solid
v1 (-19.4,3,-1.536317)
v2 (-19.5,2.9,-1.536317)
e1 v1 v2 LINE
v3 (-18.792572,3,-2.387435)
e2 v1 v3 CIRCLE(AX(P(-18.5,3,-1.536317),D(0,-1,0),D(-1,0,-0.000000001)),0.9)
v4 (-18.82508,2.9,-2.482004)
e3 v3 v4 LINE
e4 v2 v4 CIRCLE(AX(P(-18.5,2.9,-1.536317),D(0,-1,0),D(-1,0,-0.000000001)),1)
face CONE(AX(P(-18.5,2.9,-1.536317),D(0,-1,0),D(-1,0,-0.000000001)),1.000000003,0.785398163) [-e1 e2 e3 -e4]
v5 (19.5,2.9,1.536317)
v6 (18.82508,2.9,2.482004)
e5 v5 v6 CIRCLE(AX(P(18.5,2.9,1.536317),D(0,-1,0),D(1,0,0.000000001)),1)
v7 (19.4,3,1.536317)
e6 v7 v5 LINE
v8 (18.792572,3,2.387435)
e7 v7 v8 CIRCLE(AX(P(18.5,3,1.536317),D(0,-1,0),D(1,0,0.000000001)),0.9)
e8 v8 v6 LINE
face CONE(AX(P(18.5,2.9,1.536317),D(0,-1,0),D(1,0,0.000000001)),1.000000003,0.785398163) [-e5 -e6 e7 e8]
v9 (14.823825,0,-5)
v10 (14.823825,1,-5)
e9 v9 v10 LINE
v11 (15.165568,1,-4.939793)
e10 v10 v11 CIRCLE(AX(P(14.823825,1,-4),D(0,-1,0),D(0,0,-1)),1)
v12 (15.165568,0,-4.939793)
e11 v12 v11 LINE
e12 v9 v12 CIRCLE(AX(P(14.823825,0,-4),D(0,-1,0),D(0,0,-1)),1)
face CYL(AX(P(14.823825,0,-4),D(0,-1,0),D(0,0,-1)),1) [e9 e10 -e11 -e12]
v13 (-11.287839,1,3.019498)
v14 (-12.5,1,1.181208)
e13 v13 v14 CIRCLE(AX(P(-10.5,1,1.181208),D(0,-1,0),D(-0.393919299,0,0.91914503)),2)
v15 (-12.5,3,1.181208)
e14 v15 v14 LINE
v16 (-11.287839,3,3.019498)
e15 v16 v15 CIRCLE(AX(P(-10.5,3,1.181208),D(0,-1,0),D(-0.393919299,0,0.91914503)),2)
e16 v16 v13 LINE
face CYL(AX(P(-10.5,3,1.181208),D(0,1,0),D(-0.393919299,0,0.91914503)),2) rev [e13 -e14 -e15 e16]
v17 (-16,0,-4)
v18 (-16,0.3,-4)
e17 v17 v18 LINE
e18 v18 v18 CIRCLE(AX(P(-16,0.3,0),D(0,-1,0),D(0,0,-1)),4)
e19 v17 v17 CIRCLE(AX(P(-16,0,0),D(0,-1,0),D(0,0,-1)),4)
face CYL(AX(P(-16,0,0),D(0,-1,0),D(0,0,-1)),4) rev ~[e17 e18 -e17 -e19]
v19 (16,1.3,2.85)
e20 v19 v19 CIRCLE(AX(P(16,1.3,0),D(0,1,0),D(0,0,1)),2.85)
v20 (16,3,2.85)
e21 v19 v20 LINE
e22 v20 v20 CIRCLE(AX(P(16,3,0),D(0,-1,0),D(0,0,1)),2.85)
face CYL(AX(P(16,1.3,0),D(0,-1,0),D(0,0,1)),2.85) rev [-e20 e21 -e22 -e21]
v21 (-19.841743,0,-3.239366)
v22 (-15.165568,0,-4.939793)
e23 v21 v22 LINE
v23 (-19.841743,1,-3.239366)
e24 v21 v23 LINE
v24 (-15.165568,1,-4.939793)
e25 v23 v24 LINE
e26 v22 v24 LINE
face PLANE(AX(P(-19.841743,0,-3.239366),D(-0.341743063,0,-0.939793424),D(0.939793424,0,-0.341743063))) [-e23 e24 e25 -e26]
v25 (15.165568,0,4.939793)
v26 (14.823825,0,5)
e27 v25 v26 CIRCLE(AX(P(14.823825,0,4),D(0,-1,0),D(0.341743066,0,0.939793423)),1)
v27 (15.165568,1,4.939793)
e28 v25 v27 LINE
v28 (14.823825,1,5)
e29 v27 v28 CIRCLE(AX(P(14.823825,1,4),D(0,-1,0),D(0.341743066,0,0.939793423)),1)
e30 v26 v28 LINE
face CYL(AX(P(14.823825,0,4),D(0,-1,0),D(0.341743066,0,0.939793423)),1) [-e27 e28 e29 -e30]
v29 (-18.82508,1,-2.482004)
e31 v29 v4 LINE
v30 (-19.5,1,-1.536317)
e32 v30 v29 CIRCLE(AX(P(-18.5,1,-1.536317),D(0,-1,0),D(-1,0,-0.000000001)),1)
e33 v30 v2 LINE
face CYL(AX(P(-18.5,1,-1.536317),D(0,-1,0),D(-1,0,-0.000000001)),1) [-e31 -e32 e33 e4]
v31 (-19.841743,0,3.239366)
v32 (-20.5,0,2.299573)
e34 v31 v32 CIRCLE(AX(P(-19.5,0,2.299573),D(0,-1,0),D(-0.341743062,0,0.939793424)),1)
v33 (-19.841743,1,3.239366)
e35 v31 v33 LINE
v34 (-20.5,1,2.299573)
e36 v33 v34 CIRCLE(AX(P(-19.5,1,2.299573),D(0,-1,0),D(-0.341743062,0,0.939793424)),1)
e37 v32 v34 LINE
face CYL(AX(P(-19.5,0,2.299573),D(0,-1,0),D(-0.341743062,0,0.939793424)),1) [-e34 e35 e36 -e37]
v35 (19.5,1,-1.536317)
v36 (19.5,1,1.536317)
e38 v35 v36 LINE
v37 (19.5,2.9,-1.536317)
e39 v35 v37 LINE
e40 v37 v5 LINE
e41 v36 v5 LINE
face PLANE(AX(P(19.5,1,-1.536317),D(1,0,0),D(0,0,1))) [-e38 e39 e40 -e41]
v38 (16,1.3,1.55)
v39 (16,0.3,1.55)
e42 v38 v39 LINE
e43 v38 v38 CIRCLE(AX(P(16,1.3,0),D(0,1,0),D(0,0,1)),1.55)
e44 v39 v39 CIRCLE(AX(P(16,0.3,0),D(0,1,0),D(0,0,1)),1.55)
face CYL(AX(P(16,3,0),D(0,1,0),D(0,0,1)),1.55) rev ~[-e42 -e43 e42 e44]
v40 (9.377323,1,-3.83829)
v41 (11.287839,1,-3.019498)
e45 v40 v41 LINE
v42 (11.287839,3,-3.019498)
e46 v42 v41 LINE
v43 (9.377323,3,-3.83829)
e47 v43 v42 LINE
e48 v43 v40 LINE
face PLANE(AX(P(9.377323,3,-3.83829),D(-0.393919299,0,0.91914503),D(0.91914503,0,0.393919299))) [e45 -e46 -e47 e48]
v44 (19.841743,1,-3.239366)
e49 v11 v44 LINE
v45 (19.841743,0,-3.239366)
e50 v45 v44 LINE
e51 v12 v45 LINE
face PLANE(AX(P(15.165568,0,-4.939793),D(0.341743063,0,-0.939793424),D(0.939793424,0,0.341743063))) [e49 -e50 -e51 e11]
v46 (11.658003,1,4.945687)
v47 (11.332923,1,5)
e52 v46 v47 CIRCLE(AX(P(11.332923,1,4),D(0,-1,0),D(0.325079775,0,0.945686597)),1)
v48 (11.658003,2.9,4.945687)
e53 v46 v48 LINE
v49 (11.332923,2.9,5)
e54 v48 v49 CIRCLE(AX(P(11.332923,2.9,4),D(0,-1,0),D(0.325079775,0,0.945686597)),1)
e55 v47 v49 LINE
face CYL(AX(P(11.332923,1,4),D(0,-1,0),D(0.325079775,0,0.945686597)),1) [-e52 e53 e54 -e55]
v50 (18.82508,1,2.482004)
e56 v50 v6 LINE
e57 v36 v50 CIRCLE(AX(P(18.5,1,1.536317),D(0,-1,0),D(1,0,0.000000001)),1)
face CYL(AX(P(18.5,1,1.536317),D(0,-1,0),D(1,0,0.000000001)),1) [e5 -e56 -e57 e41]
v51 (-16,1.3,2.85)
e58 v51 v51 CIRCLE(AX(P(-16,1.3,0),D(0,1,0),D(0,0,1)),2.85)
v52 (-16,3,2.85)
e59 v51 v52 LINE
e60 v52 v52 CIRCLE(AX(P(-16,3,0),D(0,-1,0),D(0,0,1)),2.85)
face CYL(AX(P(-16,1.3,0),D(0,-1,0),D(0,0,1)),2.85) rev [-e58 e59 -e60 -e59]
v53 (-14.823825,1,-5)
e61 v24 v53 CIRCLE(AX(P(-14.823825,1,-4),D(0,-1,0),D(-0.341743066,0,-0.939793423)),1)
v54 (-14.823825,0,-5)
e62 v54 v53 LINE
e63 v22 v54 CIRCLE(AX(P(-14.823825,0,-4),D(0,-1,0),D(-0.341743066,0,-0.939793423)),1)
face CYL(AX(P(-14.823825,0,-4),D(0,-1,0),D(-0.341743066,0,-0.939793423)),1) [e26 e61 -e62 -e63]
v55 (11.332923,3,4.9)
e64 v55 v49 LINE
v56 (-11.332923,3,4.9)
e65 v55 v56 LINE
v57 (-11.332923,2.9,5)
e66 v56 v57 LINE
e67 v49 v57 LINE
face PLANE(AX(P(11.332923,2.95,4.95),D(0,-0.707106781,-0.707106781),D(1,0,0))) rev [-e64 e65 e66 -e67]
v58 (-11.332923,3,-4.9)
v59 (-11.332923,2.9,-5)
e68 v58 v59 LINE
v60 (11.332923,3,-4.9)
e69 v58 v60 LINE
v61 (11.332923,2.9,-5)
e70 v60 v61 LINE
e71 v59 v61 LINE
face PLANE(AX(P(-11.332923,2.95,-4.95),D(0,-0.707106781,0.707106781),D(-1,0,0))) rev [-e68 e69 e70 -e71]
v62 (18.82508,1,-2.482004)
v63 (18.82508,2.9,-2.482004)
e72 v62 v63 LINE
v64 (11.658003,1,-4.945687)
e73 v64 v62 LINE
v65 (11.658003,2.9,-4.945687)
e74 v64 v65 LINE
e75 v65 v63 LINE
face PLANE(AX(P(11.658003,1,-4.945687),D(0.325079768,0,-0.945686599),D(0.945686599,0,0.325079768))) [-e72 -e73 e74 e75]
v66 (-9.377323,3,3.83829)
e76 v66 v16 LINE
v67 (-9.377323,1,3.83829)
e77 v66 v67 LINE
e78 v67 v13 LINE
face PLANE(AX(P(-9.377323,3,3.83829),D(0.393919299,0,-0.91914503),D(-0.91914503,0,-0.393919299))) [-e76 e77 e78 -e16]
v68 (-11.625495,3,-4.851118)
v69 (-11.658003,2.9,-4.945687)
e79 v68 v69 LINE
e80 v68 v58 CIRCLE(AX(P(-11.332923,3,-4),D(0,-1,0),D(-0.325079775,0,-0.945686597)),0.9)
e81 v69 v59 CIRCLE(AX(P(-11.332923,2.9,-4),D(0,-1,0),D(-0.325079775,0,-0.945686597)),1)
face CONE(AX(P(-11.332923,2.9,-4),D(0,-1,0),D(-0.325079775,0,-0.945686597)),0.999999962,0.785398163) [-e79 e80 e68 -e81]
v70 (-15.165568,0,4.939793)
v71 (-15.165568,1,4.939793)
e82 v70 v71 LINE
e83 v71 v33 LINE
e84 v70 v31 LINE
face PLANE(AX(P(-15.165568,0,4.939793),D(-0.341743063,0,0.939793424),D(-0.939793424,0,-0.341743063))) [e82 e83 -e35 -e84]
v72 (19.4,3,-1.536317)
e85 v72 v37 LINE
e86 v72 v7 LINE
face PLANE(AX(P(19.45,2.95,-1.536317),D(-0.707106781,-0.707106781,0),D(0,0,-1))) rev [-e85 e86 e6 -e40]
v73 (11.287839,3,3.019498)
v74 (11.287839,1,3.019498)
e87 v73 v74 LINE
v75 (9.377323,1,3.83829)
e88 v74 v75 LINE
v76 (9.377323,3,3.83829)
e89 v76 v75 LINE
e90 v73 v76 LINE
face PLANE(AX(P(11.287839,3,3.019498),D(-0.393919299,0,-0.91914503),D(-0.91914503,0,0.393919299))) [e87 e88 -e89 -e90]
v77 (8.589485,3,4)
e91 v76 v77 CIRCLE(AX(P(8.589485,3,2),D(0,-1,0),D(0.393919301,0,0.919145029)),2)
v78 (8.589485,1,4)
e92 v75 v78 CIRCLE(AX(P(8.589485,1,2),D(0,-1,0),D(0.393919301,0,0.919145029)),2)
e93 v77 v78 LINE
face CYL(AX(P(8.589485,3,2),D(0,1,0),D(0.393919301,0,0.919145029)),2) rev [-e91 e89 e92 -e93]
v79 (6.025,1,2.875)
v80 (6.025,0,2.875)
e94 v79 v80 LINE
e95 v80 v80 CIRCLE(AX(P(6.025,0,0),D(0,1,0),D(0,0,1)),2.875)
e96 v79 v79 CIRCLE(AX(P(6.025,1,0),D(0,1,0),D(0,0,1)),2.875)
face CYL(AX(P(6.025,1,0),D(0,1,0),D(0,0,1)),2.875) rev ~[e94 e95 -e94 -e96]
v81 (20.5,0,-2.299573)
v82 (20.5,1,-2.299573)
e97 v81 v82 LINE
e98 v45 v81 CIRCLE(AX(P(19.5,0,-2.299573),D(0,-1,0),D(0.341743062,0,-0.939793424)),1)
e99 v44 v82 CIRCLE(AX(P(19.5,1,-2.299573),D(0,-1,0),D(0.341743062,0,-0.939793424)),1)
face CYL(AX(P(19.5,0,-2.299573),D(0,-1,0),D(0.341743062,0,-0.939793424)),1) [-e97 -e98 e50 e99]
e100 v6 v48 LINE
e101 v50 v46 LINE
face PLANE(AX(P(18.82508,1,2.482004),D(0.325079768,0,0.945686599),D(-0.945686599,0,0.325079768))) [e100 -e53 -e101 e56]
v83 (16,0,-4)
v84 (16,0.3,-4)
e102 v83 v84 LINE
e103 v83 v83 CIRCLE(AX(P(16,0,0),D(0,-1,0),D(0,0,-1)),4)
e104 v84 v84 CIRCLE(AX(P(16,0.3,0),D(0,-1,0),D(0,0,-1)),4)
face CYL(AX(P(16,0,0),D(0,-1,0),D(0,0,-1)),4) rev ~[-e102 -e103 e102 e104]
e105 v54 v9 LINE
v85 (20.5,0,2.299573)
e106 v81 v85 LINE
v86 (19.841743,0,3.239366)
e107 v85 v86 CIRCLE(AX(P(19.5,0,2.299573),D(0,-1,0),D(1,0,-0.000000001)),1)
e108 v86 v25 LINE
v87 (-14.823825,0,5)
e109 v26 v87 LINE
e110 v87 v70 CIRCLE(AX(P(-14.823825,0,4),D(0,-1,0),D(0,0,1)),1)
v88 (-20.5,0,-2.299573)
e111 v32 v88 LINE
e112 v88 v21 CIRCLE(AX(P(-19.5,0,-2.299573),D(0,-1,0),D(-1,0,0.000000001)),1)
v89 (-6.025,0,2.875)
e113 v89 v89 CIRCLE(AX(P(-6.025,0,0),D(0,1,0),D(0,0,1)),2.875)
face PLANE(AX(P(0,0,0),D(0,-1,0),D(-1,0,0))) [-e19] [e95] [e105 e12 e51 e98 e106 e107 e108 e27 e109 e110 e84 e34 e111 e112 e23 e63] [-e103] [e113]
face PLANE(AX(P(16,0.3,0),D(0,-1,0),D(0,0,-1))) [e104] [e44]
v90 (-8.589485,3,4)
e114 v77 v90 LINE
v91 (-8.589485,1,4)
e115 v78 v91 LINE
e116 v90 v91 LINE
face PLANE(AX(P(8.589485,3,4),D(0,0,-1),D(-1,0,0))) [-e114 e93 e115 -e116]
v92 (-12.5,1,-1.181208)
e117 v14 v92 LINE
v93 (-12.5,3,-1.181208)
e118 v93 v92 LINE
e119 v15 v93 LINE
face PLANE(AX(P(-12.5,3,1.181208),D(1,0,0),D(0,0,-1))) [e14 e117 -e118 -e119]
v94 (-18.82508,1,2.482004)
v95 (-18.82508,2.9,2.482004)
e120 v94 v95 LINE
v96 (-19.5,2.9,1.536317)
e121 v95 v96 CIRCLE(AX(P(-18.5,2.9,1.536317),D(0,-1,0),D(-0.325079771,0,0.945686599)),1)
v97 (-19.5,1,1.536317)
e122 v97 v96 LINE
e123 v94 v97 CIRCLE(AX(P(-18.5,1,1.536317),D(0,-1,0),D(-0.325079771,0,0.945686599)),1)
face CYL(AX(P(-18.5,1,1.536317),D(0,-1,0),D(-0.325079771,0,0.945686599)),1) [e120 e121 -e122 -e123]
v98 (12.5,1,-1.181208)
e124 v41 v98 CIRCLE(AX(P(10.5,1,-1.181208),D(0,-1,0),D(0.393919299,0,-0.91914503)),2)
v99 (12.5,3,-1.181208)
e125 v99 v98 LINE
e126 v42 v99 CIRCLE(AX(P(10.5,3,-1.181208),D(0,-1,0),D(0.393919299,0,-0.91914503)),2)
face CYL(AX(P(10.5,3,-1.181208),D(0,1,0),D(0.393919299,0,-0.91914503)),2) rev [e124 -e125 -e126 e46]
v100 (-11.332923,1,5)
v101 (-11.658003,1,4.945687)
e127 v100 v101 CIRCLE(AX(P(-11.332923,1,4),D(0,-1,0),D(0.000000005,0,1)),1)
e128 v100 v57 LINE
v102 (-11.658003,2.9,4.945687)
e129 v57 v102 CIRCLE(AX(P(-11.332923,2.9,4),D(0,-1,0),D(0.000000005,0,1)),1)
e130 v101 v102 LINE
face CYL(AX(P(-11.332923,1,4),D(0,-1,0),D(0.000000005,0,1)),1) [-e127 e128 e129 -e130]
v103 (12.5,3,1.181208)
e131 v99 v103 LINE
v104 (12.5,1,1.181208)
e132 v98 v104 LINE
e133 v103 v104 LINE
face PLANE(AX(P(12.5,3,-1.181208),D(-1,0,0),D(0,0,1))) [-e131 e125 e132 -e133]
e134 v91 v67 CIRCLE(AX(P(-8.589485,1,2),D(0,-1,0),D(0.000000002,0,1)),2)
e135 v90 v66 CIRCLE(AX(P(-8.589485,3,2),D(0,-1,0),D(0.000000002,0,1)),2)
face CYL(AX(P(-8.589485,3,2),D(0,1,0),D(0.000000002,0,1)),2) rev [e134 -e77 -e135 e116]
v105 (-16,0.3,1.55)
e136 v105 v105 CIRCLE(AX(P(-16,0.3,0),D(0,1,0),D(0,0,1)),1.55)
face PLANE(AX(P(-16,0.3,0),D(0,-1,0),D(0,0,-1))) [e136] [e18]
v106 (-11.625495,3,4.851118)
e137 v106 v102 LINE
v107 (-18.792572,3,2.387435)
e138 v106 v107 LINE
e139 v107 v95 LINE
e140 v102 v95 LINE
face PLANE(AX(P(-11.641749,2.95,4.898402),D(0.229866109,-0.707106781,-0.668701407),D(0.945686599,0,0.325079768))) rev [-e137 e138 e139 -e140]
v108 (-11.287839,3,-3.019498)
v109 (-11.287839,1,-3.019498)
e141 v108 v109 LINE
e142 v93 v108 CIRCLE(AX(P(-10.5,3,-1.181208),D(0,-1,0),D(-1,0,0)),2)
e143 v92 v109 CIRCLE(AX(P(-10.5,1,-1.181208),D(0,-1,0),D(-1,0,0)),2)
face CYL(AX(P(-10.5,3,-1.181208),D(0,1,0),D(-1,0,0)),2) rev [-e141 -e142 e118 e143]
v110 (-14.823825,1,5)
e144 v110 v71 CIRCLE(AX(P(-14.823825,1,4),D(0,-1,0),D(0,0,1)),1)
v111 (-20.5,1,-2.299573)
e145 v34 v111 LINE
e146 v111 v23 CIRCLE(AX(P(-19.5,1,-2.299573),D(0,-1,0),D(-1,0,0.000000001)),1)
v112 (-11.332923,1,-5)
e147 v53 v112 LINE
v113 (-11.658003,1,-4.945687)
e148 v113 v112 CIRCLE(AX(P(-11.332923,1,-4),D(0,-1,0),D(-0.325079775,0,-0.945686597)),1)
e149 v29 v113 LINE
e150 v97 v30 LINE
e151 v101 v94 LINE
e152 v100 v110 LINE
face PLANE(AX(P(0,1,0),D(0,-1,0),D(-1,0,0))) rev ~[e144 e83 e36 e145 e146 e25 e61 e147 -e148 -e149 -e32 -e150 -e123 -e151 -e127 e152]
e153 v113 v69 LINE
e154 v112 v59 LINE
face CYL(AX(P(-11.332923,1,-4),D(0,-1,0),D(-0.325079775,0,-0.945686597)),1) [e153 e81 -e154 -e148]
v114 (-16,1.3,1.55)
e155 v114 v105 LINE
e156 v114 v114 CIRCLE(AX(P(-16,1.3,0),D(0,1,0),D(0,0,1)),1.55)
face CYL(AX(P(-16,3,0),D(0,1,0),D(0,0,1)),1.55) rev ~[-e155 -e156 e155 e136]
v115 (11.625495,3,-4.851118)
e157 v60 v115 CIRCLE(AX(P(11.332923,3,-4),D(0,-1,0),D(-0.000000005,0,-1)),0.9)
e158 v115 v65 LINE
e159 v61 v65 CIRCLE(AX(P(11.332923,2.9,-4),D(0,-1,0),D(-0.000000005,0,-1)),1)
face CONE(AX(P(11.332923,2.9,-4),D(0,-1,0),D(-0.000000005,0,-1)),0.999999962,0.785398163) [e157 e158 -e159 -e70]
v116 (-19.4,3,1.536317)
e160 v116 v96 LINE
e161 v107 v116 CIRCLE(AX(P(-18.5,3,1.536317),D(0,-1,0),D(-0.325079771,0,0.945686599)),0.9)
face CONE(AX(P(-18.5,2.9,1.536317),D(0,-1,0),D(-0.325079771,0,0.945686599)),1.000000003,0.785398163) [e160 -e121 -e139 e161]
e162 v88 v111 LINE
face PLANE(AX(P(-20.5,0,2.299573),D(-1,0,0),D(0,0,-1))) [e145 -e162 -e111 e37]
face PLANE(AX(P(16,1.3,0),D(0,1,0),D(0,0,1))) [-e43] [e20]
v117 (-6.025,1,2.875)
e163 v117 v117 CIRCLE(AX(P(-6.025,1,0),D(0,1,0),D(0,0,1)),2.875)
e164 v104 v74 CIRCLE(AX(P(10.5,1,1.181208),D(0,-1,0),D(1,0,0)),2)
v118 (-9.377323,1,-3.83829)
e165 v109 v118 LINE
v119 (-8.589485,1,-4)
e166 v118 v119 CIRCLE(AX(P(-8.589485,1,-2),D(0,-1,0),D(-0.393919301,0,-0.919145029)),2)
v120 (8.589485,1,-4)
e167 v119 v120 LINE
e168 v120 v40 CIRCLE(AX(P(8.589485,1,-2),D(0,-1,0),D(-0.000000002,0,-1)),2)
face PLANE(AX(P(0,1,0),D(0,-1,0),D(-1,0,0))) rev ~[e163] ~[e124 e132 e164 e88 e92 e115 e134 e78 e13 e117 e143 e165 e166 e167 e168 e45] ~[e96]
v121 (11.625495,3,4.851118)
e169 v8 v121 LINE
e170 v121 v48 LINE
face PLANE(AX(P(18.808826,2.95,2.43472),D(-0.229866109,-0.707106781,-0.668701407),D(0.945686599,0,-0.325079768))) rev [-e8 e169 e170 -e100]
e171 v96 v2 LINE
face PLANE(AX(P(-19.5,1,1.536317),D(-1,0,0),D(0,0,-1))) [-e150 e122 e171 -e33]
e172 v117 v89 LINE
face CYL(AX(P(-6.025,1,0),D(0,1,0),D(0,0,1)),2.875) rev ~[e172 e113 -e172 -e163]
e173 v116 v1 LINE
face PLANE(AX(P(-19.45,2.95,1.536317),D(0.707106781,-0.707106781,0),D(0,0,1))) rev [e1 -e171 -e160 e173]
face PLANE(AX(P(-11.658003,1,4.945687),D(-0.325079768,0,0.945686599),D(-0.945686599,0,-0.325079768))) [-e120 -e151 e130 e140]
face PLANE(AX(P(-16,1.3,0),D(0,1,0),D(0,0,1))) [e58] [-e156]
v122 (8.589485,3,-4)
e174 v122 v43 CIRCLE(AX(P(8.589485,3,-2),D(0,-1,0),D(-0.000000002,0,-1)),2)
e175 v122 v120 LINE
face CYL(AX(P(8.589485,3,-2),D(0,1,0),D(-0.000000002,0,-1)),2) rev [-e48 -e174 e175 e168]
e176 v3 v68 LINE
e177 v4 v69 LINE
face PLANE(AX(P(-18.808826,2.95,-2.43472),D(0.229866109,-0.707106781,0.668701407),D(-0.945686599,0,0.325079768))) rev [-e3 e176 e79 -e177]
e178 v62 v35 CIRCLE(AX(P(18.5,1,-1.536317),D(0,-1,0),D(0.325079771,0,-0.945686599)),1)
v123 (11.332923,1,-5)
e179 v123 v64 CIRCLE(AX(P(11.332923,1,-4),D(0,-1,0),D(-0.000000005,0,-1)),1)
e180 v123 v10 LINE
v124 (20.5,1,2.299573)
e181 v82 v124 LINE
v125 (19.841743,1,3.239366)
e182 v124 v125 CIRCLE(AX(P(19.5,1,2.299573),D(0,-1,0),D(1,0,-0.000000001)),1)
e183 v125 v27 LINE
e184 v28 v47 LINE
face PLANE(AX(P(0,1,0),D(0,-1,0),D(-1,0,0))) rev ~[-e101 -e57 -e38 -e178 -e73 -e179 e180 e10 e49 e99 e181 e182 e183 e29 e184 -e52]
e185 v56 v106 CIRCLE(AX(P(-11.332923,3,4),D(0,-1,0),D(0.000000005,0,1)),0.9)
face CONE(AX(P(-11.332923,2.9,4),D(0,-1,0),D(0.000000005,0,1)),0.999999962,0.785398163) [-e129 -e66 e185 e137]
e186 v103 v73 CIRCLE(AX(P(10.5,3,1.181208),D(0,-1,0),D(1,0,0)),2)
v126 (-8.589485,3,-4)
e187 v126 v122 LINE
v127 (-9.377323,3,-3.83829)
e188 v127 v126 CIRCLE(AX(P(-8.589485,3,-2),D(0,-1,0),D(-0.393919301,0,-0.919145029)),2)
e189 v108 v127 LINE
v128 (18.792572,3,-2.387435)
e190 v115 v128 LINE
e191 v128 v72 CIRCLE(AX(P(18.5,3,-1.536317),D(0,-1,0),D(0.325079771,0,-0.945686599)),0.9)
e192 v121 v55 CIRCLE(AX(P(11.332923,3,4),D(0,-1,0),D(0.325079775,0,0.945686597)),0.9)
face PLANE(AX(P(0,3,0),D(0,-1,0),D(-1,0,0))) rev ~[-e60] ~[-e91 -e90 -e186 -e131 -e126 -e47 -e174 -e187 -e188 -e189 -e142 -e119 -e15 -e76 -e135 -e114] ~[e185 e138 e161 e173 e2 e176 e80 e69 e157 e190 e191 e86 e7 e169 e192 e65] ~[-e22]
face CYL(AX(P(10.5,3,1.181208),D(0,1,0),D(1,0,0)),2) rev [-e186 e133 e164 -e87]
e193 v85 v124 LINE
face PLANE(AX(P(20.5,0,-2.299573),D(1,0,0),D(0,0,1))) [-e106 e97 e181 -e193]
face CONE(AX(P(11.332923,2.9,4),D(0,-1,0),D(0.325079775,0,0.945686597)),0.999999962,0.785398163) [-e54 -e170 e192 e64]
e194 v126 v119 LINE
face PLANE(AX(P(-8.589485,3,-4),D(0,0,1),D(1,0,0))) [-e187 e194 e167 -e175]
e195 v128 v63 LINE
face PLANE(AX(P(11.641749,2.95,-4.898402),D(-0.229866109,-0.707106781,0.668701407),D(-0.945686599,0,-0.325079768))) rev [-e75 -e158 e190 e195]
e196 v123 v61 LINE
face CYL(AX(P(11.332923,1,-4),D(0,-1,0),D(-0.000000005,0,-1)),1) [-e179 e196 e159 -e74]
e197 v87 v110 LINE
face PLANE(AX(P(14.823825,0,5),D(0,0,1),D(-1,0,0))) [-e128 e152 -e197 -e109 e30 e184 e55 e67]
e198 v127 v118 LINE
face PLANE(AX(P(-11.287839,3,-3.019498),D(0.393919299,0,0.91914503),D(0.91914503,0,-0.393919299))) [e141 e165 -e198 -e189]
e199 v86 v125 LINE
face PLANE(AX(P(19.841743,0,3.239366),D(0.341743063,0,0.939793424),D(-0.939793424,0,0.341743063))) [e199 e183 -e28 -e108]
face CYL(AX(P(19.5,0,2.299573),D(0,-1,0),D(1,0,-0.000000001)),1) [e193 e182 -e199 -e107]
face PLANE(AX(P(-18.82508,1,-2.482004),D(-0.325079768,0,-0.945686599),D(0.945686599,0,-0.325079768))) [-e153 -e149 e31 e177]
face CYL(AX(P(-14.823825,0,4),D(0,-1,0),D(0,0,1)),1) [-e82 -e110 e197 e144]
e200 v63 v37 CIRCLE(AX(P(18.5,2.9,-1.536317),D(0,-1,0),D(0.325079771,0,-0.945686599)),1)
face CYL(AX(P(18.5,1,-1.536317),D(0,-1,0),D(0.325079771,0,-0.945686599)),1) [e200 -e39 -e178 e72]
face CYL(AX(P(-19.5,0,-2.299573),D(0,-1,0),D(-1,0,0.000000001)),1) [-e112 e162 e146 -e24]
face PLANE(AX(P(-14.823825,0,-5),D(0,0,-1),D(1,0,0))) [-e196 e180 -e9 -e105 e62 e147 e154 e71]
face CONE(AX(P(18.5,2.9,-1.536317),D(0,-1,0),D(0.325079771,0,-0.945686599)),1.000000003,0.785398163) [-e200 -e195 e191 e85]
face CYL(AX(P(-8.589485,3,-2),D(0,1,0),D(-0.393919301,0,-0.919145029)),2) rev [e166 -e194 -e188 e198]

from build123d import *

# Parameters (mm, degrees)
BOSS_EXTRUDE1_DEPTH     = 1
BOSS_EXTRUDE2_DEPTH     = 2
SKETCH3_R               = 1.55
CUT_EXTRUDE1_DEPTH      = 22.313141486
CUT_EXTRUDE2_DEPTH      = 2
CUT_EXTRUDE2_DEPTH_BACK = 1.7
SKETCH4_R               = 2.85
CUT_EXTRUDE3_DEPTH      = 2
SKETCH6_R               = 2.875
CUT_EXTRUDE4_DEPTH      = 22.195518394
CHAMFER1_SIZE           = 0.1
SKETCH7_R               = 4
CUT_EXTRUDE5_DEPTH      = 0.3


with BuildPart() as part:
    # Sketch1 → Boss-Extrude1 (new body)
    with BuildSketch(Plane(origin=(0, 0, 0), x_dir=(1, 0, 0), z_dir=(0, 1, 0))):
        with BuildLine():
            Line((14.823825022, -5), (-14.823825022, -5))
            ThreePointArc((-14.823825022, -5), (-14.997328014, -4.984833342), (-15.165568085, -4.939793423))
            Line((-15.165568085, -4.939793423), (-19.841743063, -3.239366159))
            ThreePointArc((-19.841743063, -3.239366159), (-20.319067477, -2.873269928), (-20.5, -2.299572735))
            Line((-20.5, -2.299572735), (-20.5, 2.299572735))
            ThreePointArc((-20.5, 2.299572735), (-20.319067477, 2.873269928), (-19.841743063, 3.239366159))
            Line((-19.841743063, 3.239366159), (-15.165568085, 4.939793423))
            ThreePointArc((-15.165568085, 4.939793423), (-14.997328014, 4.984833342), (-14.823825022, 5))
            Line((-14.823825022, 5), (14.823825022, 5))
            ThreePointArc((14.823825022, 5), (14.997328014, 4.984833342), (15.165568085, 4.939793423))
            Line((15.165568085, 4.939793423), (19.841743063, 3.239366159))
            ThreePointArc((19.841743063, 3.239366159), (20.319067477, 2.873269928), (20.5, 2.299572735))
            Line((20.5, 2.299572735), (20.5, -2.299572735))
            ThreePointArc((20.5, -2.299572735), (20.319067477, -2.873269928), (19.841743063, -3.239366159))
            Line((19.841743063, -3.239366159), (15.165568085, -4.939793423))
            ThreePointArc((15.165568085, -4.939793423), (14.997328014, -4.984833342), (14.823825022, -5))
        make_face()
    extrude(amount=BOSS_EXTRUDE1_DEPTH)

    # Sketch2 → Boss-Extrude2 (add)
    with BuildSketch(Plane(origin=(0, 1, 0), x_dir=(1, 0, 0), z_dir=(0, 1, 0))):
        with BuildLine():
            Line((11.332922852, -5), (-11.332922852, -5))
            ThreePointArc((-11.332922852, -5), (-11.497715753, -4.986328191), (-11.65800262, -4.945686599))
            Line((-11.65800262, -4.945686599), (-18.825079769, -2.48200383))
            ThreePointArc((-18.825079769, -2.48200383), (-19.31396553, -2.117230404), (-19.5, -1.53631723))
            Line((-19.5, -1.53631723), (-19.5, 1.53631723))
            ThreePointArc((-19.5, 1.53631723), (-19.31396553, 2.117230404), (-18.825079769, 2.48200383))
            Line((-18.825079769, 2.48200383), (-11.65800262, 4.945686599))
            ThreePointArc((-11.65800262, 4.945686599), (-11.497715753, 4.986328191), (-11.332922852, 5))
            Line((-11.332922852, 5), (11.332922852, 5))
            ThreePointArc((11.332922852, 5), (11.497715753, 4.986328191), (11.65800262, 4.945686599))
            Line((11.65800262, 4.945686599), (18.825079769, 2.48200383))
            ThreePointArc((18.825079769, 2.48200383), (19.31396553, 2.117230404), (19.5, 1.53631723))
            Line((19.5, 1.53631723), (19.5, -1.53631723))
            ThreePointArc((19.5, -1.53631723), (19.31396553, -2.117230404), (18.825079769, -2.48200383))
            Line((18.825079769, -2.48200383), (11.65800262, -4.945686599))
            ThreePointArc((11.65800262, -4.945686599), (11.497715753, -4.986328191), (11.332922852, -5))
        make_face()
    extrude(amount=BOSS_EXTRUDE2_DEPTH)

    # Sketch3 → Cut-Extrude1 (cut, through all)
    with BuildSketch(Plane(origin=(0, 3, 0), x_dir=(1, 0, 0), z_dir=(0, 1, 0))):
        with Locations(Location((-16, 0, 0), (0, 0, 270))):
            Circle(SKETCH3_R)
        with Locations(Location((16, 0, 0), (0, 0, 270))):
            Circle(SKETCH3_R)
    extrude(amount=-CUT_EXTRUDE1_DEPTH, mode=Mode.SUBTRACT)

    # Sketch4 → Cut-Extrude2 (cut, two sides: drawn at the far end of the back side and taken through both)
    with BuildSketch(Plane(origin=(0, 3, 0), x_dir=(1, 0, 0), z_dir=(0, 1, 0)).offset(-CUT_EXTRUDE2_DEPTH_BACK)):
        with Locations(Location((-16, 0, 0), (0, 0, 270))):
            Circle(SKETCH4_R)
        with Locations(Location((16, 0, 0), (0, 0, 270))):
            Circle(SKETCH4_R)
    extrude(amount=CUT_EXTRUDE2_DEPTH + CUT_EXTRUDE2_DEPTH_BACK, mode=Mode.SUBTRACT)

    # Sketch5 → Cut-Extrude3 (cut)
    with BuildSketch(Plane(origin=(0, 3, 0), x_dir=(1, 0, 0), z_dir=(0, 1, 0))):
        with BuildLine():
            Line((8.589484596, -4), (-8.589484596, -4))
            ThreePointArc((-8.589484596, -4), (-8.991616341, -3.959155446), (-9.377323193, -3.83829006))
            Line((-9.377323193, -3.83829006), (-11.287838597, -3.019497744))
            ThreePointArc((-11.287838597, -3.019497744), (-12.169682184, -2.282189702), (-12.5, -1.181207684))
            Line((-12.5, -1.181207684), (-12.5, 1.181207684))
            ThreePointArc((-12.5, 1.181207684), (-12.169682184, 2.282189702), (-11.287838597, 3.019497744))
            Line((-11.287838597, 3.019497744), (-9.377323193, 3.83829006))
            ThreePointArc((-9.377323193, 3.83829006), (-8.991616341, 3.959155446), (-8.589484596, 4))
            Line((-8.589484596, 4), (8.589484596, 4))
            ThreePointArc((8.589484596, 4), (8.991616341, 3.959155446), (9.377323193, 3.83829006))
            Line((9.377323193, 3.83829006), (11.287838597, 3.019497744))
            ThreePointArc((11.287838597, 3.019497744), (12.169682184, 2.282189702), (12.5, 1.181207684))
            Line((12.5, 1.181207684), (12.5, -1.181207684))
            ThreePointArc((12.5, -1.181207684), (12.169682184, -2.282189702), (11.287838597, -3.019497744))
            Line((11.287838597, -3.019497744), (9.377323193, -3.83829006))
            ThreePointArc((9.377323193, -3.83829006), (8.991616341, -3.959155446), (8.589484596, -4))
        make_face()
    extrude(amount=-CUT_EXTRUDE3_DEPTH, mode=Mode.SUBTRACT)

    # Sketch6 → Cut-Extrude4 (cut, through all)
    with BuildSketch(Plane(origin=(0, 1, 0), x_dir=(1, 0, 0), z_dir=(0, 1, 0))):
        with Locations(Location((-6.025, 0, 0), (0, 0, 270))):
            Circle(SKETCH6_R)
        with Locations(Location((6.025, 0, 0), (0, 0, 270))):
            Circle(SKETCH6_R)
    extrude(amount=-CUT_EXTRUDE4_DEPTH, mode=Mode.SUBTRACT)

    # Chamfer1
    chamfer1_edges = [part.edges().sort_by_distance(p)[0] for p in [
        (-19.31396553, 3, -2.117230404),
        (-19.5, 3, 0),
        (-19.31396553, 3, 2.117230404),
        (-15.241541194, 3, 3.713845214),
        (-11.497715753, 3, 4.986328191),
        (0, 3, 5),
        (11.497715753, 3, 4.986328191),
        (15.241541194, 3, 3.713845214),
        (19.31396553, 3, 2.117230404),
        (19.5, 3, 0),
        (19.31396553, 3, -2.117230404),
        (15.241541194, 3, -3.713845214),
        (11.497715753, 3, -4.986328191),
        (0, 3, -5),
        (-11.497715753, 3, -4.986328191),
        (-15.241541194, 3, -3.713845214),
    ]]
    chamfer(chamfer1_edges, length=CHAMFER1_SIZE)

    # Sketch7 → Cut-Extrude5 (cut)
    with BuildSketch(Plane.XZ):
        with Locations(Location((-16, 0, 0), (0, 0, 270))):
            Circle(SKETCH7_R)
        with Locations(Location((16, 0, 0), (0, 0, 270))):
            Circle(SKETCH7_R)
    extrude(amount=-CUT_EXTRUDE5_DEPTH, mode=Mode.SUBTRACT)


solid = part.part
